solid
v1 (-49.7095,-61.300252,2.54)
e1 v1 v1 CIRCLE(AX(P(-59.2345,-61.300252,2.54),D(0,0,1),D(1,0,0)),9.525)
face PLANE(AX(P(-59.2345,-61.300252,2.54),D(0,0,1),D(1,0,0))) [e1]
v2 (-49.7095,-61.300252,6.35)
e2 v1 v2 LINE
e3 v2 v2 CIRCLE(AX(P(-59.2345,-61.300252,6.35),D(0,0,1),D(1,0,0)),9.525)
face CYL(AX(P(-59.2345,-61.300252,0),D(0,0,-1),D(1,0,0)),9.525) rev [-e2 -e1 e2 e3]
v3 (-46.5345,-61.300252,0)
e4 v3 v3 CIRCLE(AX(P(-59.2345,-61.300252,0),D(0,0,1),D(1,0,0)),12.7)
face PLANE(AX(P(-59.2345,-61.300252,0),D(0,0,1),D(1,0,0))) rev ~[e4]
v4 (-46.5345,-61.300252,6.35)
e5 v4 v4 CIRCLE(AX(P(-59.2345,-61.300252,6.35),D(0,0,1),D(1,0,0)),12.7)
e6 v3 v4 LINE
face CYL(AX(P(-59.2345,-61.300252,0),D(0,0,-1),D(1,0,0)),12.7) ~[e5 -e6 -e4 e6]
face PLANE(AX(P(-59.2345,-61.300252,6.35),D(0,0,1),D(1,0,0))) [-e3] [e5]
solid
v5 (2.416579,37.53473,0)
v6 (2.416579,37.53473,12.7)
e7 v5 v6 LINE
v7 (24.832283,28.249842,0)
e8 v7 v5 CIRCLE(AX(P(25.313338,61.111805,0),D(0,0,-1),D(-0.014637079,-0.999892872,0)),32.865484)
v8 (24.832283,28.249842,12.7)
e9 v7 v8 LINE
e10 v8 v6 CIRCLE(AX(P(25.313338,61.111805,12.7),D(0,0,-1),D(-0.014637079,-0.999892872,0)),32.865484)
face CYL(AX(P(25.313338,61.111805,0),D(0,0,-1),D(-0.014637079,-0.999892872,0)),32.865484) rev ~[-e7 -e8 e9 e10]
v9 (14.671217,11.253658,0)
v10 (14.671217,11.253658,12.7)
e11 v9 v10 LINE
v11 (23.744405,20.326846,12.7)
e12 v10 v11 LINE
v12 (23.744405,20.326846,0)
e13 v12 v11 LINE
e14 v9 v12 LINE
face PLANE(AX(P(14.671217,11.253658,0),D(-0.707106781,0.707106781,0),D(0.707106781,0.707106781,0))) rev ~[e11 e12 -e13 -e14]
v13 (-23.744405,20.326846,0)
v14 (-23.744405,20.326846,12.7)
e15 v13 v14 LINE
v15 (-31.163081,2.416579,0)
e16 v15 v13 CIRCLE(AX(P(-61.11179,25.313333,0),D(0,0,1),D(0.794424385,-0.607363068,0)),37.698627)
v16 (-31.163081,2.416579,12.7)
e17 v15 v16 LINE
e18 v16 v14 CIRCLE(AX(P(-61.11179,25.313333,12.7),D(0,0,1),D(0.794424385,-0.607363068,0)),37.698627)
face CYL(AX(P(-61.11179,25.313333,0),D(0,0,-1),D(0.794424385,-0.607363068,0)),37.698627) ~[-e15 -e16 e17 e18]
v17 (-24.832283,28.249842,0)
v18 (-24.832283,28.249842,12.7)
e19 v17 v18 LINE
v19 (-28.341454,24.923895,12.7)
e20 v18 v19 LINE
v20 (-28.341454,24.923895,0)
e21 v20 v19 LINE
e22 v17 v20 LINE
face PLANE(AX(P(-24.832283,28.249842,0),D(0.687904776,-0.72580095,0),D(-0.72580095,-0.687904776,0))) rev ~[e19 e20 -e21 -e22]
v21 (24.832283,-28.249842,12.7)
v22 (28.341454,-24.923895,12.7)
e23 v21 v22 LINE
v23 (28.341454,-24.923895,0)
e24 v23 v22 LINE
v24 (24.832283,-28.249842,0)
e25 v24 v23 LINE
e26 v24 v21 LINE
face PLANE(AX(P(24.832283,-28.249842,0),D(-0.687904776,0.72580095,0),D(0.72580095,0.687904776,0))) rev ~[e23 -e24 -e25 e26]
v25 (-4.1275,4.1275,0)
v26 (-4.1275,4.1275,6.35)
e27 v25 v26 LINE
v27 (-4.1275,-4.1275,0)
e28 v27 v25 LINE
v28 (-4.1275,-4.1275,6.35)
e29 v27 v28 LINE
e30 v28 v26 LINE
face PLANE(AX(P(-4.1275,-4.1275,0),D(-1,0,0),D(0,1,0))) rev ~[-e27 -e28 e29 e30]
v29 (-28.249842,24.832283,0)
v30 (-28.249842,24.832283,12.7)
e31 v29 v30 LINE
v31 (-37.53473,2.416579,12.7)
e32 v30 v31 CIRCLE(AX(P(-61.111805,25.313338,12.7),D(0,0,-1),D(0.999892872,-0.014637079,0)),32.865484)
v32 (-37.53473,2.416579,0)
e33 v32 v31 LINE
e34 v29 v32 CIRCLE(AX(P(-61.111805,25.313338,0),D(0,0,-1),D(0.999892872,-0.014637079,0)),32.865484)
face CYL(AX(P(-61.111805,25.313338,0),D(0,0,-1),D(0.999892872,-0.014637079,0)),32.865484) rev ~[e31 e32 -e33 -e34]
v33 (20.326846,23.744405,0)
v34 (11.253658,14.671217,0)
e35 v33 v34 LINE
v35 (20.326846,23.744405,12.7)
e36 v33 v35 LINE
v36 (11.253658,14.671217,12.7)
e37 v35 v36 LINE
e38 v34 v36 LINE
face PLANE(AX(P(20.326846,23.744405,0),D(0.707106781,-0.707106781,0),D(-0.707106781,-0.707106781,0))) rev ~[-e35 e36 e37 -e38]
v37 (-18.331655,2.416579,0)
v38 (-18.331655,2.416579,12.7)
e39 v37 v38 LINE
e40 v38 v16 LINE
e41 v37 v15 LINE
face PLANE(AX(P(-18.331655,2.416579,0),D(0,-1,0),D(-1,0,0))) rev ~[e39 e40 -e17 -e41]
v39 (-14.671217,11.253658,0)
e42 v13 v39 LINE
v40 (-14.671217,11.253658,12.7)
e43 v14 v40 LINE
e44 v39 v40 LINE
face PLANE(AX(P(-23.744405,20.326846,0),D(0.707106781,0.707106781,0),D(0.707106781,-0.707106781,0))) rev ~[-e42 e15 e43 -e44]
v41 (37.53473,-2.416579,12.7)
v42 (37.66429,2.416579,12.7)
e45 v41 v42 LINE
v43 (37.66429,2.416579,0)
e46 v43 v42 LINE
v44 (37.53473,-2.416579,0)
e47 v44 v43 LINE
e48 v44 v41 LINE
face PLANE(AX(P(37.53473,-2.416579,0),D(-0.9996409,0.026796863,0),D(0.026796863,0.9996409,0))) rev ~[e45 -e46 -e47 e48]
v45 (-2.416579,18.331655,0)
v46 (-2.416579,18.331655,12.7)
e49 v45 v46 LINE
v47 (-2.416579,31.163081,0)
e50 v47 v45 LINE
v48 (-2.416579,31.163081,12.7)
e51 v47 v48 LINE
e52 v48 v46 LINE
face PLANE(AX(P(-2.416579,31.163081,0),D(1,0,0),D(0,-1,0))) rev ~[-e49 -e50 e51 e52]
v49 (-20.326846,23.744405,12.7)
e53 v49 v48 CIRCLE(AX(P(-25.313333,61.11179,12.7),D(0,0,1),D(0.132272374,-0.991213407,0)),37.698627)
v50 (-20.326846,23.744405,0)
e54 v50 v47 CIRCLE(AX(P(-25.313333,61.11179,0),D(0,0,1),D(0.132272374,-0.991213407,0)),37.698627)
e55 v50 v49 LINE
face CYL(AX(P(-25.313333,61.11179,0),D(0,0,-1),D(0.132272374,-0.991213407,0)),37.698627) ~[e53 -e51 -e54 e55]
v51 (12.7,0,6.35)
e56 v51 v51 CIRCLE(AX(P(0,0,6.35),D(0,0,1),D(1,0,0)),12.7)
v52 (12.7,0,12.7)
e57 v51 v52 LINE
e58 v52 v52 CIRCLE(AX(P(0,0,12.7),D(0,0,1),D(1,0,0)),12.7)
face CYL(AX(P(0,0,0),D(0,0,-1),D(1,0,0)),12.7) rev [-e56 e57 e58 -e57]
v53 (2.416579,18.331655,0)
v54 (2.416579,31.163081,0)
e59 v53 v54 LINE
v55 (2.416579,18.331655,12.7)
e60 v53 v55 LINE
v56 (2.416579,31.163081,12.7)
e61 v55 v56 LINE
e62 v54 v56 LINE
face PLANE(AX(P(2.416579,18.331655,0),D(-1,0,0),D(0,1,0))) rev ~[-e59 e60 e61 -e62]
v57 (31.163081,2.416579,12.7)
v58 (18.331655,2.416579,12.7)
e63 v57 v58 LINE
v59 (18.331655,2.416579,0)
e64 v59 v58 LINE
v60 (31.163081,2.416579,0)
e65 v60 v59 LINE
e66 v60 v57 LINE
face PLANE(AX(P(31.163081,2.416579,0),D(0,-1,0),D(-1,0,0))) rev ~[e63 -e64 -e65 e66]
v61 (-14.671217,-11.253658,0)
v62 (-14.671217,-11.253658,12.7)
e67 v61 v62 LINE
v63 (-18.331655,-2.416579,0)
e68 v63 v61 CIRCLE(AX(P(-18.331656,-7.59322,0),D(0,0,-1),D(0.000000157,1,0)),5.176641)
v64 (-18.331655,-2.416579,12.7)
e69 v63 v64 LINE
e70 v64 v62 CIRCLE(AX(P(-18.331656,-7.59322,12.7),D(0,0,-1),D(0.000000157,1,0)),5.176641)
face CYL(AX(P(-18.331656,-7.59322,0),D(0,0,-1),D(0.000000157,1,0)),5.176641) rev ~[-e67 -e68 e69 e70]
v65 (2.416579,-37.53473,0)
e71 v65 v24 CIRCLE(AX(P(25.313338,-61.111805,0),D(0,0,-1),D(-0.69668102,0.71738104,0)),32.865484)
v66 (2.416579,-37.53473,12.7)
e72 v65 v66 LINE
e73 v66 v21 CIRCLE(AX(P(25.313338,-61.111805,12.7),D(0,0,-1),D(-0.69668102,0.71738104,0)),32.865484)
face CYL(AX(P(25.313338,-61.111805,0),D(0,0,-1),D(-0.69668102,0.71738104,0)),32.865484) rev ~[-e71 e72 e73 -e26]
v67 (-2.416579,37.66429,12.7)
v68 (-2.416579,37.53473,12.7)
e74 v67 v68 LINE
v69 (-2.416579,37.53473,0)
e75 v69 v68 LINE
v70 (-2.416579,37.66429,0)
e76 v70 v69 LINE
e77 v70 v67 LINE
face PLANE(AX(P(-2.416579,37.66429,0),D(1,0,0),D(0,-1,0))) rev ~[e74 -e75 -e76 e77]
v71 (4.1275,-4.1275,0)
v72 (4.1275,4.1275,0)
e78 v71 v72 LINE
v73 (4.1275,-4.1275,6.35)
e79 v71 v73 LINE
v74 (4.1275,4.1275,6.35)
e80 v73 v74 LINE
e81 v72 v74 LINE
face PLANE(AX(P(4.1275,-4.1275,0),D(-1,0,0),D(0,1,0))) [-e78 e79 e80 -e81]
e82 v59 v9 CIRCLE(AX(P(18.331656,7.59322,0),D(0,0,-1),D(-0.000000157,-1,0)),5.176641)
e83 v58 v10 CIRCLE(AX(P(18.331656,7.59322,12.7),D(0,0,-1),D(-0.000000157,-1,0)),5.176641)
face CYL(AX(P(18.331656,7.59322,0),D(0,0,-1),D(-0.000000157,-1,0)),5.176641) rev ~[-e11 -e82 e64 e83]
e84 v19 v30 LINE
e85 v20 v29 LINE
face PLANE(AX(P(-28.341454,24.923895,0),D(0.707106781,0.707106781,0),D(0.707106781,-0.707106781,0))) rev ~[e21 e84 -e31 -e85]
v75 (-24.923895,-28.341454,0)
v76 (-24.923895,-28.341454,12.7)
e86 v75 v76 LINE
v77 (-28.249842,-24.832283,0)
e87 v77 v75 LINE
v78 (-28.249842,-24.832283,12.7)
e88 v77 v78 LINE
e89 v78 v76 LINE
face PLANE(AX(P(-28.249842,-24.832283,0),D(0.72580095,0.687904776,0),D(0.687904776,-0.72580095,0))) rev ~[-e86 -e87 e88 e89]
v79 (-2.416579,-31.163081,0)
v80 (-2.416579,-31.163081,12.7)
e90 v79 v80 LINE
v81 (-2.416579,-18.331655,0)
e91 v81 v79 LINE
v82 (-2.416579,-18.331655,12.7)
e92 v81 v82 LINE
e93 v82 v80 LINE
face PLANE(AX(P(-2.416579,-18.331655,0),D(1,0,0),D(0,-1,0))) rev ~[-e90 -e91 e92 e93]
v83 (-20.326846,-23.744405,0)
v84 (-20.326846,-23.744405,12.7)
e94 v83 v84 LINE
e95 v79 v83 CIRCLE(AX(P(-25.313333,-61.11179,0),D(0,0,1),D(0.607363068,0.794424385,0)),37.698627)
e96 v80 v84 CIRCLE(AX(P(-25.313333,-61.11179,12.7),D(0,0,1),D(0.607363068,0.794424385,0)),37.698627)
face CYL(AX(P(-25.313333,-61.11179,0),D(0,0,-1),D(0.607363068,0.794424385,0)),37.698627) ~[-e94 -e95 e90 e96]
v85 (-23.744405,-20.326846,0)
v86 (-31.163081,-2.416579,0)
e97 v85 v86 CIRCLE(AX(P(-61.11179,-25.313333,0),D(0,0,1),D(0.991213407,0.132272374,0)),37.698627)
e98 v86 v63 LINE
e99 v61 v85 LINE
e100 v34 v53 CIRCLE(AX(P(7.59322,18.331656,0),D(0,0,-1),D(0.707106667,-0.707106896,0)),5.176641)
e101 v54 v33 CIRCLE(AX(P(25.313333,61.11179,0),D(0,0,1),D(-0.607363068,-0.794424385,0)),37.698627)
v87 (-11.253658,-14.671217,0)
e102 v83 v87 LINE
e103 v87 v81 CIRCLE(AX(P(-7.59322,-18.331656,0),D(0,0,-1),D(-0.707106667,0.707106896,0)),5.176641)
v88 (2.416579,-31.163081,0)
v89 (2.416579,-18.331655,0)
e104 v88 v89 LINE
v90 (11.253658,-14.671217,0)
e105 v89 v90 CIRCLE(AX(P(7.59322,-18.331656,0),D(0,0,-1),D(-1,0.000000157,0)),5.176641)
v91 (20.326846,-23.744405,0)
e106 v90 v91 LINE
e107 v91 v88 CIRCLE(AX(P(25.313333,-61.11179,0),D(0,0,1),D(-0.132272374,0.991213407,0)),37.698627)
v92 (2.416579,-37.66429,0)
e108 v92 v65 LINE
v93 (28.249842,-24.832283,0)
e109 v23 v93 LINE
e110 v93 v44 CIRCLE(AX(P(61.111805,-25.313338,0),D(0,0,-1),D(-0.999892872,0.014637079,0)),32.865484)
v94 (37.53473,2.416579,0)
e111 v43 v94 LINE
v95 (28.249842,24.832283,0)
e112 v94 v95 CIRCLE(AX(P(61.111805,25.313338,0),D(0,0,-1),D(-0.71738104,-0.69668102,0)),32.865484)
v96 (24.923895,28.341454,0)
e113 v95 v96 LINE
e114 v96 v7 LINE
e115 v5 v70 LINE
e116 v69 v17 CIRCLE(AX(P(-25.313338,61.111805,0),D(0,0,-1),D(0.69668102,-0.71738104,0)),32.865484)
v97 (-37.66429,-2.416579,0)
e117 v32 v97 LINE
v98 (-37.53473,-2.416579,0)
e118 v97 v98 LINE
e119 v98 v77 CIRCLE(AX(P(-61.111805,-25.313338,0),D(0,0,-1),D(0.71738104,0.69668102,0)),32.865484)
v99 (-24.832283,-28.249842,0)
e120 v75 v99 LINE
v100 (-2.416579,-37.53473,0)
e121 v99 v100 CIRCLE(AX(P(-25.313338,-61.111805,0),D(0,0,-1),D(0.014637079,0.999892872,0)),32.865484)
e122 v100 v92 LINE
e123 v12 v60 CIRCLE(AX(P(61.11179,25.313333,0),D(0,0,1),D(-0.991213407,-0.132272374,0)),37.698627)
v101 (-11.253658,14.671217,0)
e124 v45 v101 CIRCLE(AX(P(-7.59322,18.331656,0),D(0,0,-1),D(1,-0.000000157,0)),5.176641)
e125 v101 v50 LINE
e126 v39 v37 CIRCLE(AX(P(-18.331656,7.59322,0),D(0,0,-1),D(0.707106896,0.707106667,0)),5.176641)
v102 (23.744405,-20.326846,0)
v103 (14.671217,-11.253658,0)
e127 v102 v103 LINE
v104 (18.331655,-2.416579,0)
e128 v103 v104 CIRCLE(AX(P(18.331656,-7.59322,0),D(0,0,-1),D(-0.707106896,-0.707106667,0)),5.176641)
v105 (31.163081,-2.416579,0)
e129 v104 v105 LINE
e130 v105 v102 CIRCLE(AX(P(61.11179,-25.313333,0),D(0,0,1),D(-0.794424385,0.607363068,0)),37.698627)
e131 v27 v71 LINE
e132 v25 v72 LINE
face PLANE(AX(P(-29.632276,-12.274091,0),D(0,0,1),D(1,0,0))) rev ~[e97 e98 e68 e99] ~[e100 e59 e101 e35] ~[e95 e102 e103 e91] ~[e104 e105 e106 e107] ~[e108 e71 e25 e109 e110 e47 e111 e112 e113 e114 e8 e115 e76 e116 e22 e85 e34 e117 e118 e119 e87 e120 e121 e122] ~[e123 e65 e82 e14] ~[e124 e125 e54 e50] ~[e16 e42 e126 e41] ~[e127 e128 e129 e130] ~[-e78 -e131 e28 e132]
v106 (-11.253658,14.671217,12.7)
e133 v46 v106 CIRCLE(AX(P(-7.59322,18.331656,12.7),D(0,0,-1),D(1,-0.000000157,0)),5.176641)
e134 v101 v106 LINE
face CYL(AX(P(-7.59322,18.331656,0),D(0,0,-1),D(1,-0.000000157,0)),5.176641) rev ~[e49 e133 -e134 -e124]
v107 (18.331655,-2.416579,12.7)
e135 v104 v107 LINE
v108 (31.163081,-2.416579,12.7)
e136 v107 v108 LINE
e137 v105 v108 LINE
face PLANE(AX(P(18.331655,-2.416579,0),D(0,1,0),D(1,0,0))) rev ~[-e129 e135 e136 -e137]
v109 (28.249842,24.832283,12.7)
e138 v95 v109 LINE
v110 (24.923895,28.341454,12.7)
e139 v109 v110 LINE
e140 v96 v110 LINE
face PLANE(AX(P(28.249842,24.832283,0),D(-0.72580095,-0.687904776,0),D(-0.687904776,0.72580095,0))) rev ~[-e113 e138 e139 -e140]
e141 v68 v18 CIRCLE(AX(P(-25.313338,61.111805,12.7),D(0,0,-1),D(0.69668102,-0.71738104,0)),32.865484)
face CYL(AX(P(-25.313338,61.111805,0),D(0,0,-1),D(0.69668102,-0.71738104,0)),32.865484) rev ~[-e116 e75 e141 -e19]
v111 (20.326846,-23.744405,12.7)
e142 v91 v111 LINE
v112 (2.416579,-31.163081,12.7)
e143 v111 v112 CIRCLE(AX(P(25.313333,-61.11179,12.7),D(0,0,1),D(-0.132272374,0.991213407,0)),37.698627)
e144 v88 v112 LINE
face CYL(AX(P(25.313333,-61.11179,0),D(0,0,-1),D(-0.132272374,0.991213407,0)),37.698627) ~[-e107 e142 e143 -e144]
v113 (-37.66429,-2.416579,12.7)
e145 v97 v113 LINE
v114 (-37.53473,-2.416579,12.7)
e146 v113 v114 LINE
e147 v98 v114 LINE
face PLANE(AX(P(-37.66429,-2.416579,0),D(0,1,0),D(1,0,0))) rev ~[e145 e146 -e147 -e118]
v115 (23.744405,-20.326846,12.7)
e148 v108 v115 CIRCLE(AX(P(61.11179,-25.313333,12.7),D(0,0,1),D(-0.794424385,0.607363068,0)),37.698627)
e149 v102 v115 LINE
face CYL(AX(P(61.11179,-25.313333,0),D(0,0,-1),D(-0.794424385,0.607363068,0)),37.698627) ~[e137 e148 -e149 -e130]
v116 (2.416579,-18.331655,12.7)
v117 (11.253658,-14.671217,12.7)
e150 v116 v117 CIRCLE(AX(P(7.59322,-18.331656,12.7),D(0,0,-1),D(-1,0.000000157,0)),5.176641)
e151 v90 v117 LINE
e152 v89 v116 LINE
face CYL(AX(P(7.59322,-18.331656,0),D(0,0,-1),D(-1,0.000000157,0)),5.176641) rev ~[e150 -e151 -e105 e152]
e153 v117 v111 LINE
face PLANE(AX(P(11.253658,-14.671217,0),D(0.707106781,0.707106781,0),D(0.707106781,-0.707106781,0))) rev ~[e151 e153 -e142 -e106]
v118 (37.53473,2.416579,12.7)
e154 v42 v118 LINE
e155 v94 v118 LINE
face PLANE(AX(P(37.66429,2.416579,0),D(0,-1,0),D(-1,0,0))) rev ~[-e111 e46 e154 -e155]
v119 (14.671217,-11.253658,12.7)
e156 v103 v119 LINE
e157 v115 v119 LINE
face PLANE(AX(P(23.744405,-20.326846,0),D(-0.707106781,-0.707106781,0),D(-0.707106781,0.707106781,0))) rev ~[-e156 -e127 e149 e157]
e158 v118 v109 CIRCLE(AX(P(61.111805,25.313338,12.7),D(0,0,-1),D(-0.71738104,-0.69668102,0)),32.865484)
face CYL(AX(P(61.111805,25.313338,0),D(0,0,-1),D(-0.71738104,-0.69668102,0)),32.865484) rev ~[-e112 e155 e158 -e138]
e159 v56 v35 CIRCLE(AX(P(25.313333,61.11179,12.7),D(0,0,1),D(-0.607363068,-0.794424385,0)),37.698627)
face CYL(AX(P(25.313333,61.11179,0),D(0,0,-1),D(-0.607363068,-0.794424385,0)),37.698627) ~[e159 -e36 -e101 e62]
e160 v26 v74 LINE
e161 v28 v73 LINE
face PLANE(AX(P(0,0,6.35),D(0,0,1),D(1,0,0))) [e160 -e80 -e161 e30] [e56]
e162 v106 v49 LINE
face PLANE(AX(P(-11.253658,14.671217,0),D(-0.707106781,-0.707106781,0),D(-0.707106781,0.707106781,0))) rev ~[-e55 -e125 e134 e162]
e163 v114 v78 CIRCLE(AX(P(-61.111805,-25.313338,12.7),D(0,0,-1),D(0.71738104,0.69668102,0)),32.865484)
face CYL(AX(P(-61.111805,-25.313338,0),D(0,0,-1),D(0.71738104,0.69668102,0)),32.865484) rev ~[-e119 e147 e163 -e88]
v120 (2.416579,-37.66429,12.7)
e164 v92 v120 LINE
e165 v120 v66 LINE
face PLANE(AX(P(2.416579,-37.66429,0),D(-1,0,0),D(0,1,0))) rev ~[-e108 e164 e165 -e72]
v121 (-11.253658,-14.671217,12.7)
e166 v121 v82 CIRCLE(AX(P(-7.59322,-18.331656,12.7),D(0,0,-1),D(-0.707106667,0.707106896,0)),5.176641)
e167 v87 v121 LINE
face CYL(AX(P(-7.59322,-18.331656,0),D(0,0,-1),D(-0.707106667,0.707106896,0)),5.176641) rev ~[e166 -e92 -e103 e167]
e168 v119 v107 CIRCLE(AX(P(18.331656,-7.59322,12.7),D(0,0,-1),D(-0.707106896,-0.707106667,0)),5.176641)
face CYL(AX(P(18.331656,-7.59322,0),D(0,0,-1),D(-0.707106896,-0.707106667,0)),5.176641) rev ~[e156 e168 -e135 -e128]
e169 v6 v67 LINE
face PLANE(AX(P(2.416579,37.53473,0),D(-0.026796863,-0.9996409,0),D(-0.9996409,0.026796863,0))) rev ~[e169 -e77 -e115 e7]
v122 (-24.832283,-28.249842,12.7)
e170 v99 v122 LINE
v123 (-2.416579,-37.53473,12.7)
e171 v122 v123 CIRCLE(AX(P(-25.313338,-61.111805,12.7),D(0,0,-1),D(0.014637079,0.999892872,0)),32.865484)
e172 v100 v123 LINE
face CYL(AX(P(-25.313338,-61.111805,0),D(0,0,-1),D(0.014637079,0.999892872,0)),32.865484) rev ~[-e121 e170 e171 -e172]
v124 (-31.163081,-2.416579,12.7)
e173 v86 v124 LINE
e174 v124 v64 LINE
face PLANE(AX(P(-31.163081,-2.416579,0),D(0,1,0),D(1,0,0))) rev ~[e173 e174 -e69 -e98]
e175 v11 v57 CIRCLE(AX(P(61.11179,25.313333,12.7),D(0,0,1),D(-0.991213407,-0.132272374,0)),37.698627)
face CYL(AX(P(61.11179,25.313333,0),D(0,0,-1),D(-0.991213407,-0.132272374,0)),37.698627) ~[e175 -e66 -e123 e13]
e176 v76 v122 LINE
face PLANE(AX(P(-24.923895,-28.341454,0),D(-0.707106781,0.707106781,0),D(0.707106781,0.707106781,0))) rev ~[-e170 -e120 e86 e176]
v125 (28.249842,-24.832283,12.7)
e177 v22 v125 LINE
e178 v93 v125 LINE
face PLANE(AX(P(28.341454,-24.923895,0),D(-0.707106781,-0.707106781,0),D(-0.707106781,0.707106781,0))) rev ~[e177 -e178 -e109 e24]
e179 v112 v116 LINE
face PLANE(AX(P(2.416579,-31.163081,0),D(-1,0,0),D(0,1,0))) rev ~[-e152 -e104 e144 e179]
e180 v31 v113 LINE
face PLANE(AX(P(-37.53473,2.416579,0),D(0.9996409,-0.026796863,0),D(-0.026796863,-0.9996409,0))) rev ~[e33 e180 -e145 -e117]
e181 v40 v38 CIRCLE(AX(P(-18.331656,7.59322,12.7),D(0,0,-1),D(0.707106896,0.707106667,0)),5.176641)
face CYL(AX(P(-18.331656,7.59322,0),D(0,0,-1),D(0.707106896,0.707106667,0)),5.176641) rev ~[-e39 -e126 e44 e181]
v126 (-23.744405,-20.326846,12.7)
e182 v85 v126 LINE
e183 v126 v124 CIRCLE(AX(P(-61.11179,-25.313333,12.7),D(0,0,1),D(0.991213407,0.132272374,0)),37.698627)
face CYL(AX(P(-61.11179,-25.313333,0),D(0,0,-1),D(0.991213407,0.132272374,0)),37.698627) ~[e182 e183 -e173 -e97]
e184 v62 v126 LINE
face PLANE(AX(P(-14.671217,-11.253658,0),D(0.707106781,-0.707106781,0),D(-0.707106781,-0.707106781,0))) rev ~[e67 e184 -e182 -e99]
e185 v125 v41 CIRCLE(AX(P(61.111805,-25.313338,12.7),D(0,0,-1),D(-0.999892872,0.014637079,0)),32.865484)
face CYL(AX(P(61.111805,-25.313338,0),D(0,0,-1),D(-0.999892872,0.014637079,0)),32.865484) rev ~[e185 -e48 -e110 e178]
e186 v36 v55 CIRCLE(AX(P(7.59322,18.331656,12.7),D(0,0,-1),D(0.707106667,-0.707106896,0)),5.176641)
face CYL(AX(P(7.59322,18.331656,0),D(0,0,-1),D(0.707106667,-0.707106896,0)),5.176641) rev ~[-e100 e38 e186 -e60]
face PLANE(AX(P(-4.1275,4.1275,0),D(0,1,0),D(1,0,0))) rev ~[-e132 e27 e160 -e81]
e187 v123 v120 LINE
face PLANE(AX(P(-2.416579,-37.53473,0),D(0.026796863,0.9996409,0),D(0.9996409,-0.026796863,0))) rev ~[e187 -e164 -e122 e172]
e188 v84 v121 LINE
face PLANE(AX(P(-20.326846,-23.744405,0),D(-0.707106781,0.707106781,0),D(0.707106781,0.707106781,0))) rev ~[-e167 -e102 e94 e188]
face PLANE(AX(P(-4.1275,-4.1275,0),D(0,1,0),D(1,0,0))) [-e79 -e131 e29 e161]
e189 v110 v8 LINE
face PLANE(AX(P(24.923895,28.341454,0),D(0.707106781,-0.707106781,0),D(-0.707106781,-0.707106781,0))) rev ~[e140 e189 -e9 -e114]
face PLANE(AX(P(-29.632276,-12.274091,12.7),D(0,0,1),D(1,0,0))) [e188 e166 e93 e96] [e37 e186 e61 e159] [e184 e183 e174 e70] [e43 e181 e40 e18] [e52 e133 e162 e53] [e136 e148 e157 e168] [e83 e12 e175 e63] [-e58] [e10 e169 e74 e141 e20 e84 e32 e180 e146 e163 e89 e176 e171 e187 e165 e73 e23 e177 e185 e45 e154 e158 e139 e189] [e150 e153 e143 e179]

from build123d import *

# Parameters (mm, degrees)
F0_R     = 12.7
F0_W     = 8.255
F0_H     = 8.255
F1_DEPTH = 6.35
F2_DEPTH = 12.7
F3_R     = 12.7
F3_R_2   = 9.525
F4_DEPTH = 6.35
F5_DEPTH = 2.54


with BuildPart() as f1:
    # F0 (on Top) → F1 (new body)
    with BuildSketch(Plane.XY):
        Circle(F0_R)
        Rectangle(F0_W, F0_H, mode=Mode.SUBTRACT)
    extrude(amount=F1_DEPTH)

    # F0 (on Top) → F2 (join)
    with BuildSketch(Plane.XY):
        with BuildLine():
            ThreePointArc((-37.53473, -2.416579), (-30.748057, -12.736262), (-28.249842, -24.832283))
            Line((-28.249842, -24.832283), (-23.744405, -20.326846))
            ThreePointArc((-23.744405, -20.326846), (-26.2828, -10.886692), (-31.163081, -2.416579))
            Line((-31.163081, -2.416579), (-37.53473, -2.416579))
        make_face()
        with BuildLine():
            ThreePointArc((-24.832283, -28.249842), (-12.736262, -30.748057), (-2.416579, -37.53473))
            Line((-2.416579, -37.53473), (-2.416579, -31.163081))
            ThreePointArc((-2.416579, -31.163081), (-10.886692, -26.2828), (-20.326846, -23.744405))
            Line((-20.326846, -23.744405), (-24.832283, -28.249842))
        make_face()
        with BuildLine():
            ThreePointArc((2.416579, -37.53473), (12.736262, -30.748057), (24.832283, -28.249842))
            Line((24.832283, -28.249842), (20.326846, -23.744405))
            ThreePointArc((20.326846, -23.744405), (10.886692, -26.2828), (2.416579, -31.163081))
            Line((2.416579, -31.163081), (2.416579, -37.53473))
        make_face()
        with BuildLine():
            Line((37.53473, -2.416579), (31.163081, -2.416579))
            ThreePointArc((31.163081, -2.416579), (26.2828, -10.886692), (23.744405, -20.326846))
            Line((23.744405, -20.326846), (28.249842, -24.832283))
            ThreePointArc((28.249842, -24.832283), (30.748057, -12.736262), (37.53473, -2.416579))
        make_face()
        with BuildLine():
            Line((31.163081, 2.416579), (37.53473, 2.416579))
            ThreePointArc((37.53473, 2.416579), (30.748057, 12.736262), (28.249842, 24.832283))
            Line((28.249842, 24.832283), (23.744405, 20.326846))
            ThreePointArc((23.744405, 20.326846), (26.2828, 10.886692), (31.163081, 2.416579))
        make_face()
        with BuildLine():
            ThreePointArc((14.671217, -11.253658), (13.549063, -5.612205), (18.331655, -2.416579))
            Line((18.331655, -2.416579), (31.163081, -2.416579))
            Line((31.163081, -2.416579), (37.53473, -2.416579))
            Line((37.53473, -2.416579), (37.66429, 2.416579))
            Line((37.66429, 2.416579), (37.53473, 2.416579))
            Line((37.53473, 2.416579), (31.163081, 2.416579))
            Line((31.163081, 2.416579), (18.331655, 2.416579))
            ThreePointArc((18.331655, 2.416579), (13.549063, 5.612205), (14.671217, 11.253658))
            Line((14.671217, 11.253658), (23.744405, 20.326846))
            Line((23.744405, 20.326846), (28.249842, 24.832283))
            Line((28.249842, 24.832283), (24.923895, 28.341454))
            Line((24.923895, 28.341454), (24.832283, 28.249842))
            Line((24.832283, 28.249842), (20.326846, 23.744405))
            Line((20.326846, 23.744405), (11.253658, 14.671217))
            ThreePointArc((11.253658, 14.671217), (5.612205, 13.549063), (2.416579, 18.331655))
            Line((2.416579, 18.331655), (2.416579, 31.163081))
            Line((2.416579, 31.163081), (2.416579, 37.53473))
            Line((2.416579, 37.53473), (-2.416579, 37.66429))
            Line((-2.416579, 37.66429), (-2.416579, 37.53473))
            Line((-2.416579, 37.53473), (-2.416579, 31.163081))
            Line((-2.416579, 31.163081), (-2.416579, 18.331655))
            ThreePointArc((-2.416579, 18.331655), (-5.612205, 13.549063), (-11.253658, 14.671217))
            Line((-11.253658, 14.671217), (-20.326846, 23.744405))
            Line((-20.326846, 23.744405), (-24.832283, 28.249842))
            Line((-24.832283, 28.249842), (-28.341454, 24.923895))
            Line((-28.341454, 24.923895), (-28.249842, 24.832283))
            Line((-28.249842, 24.832283), (-23.744405, 20.326846))
            Line((-23.744405, 20.326846), (-14.671217, 11.253658))
            ThreePointArc((-14.671217, 11.253658), (-13.549063, 5.612205), (-18.331655, 2.416579))
            Line((-18.331655, 2.416579), (-31.163081, 2.416579))
            Line((-31.163081, 2.416579), (-37.53473, 2.416579))
            Line((-37.53473, 2.416579), (-37.66429, -2.416579))
            Line((-37.66429, -2.416579), (-37.53473, -2.416579))
            Line((-37.53473, -2.416579), (-31.163081, -2.416579))
            Line((-31.163081, -2.416579), (-18.331655, -2.416579))
            ThreePointArc((-18.331655, -2.416579), (-13.549063, -5.612205), (-14.671217, -11.253658))
            Line((-14.671217, -11.253658), (-23.744405, -20.326846))
            Line((-23.744405, -20.326846), (-28.249842, -24.832283))
            Line((-28.249842, -24.832283), (-24.923895, -28.341454))
            Line((-24.923895, -28.341454), (-24.832283, -28.249842))
            Line((-24.832283, -28.249842), (-20.326846, -23.744405))
            Line((-20.326846, -23.744405), (-11.253658, -14.671217))
            ThreePointArc((-11.253658, -14.671217), (-5.612205, -13.549063), (-2.416579, -18.331655))
            Line((-2.416579, -18.331655), (-2.416579, -31.163081))
            Line((-2.416579, -31.163081), (-2.416579, -37.53473))
            Line((-2.416579, -37.53473), (2.416579, -37.66429))
            Line((2.416579, -37.66429), (2.416579, -37.53473))
            Line((2.416579, -37.53473), (2.416579, -31.163081))
            Line((2.416579, -31.163081), (2.416579, -18.331655))
            ThreePointArc((2.416579, -18.331655), (5.612205, -13.549063), (11.253658, -14.671217))
            Line((11.253658, -14.671217), (20.326846, -23.744405))
            Line((20.326846, -23.744405), (24.832283, -28.249842))
            Line((24.832283, -28.249842), (28.341454, -24.923895))
            Line((28.341454, -24.923895), (28.249842, -24.832283))
            Line((28.249842, -24.832283), (23.744405, -20.326846))
            Line((23.744405, -20.326846), (14.671217, -11.253658))
        make_face()
        Circle(F0_R, mode=Mode.SUBTRACT)
        with BuildLine():
            Line((-23.744405, 20.326846), (-28.249842, 24.832283))
            ThreePointArc((-28.249842, 24.832283), (-30.748057, 12.736262), (-37.53473, 2.416579))
            Line((-37.53473, 2.416579), (-31.163081, 2.416579))
            ThreePointArc((-31.163081, 2.416579), (-26.2828, 10.886692), (-23.744405, 20.326846))
        make_face()
        with BuildLine():
            Line((-2.416579, 31.163081), (-2.416579, 37.53473))
            ThreePointArc((-2.416579, 37.53473), (-12.736262, 30.748057), (-24.832283, 28.249842))
            Line((-24.832283, 28.249842), (-20.326846, 23.744405))
            ThreePointArc((-20.326846, 23.744405), (-10.886692, 26.2828), (-2.416579, 31.163081))
        make_face()
        with BuildLine():
            Line((20.326846, 23.744405), (24.832283, 28.249842))
            ThreePointArc((24.832283, 28.249842), (12.736262, 30.748057), (2.416579, 37.53473))
            Line((2.416579, 37.53473), (2.416579, 31.163081))
            ThreePointArc((2.416579, 31.163081), (10.886692, 26.2828), (20.326846, 23.744405))
        make_face()
    extrude(amount=F2_DEPTH)


with BuildPart() as f4:
    # F3 (on Top) → F4 (new body)
    with BuildSketch(Plane.XY):
        with Locations((-59.2345, -61.300252)):
            Circle(F3_R)
        with Locations((-59.2345, -61.300252)):
            Circle(F3_R_2, mode=Mode.SUBTRACT)
    extrude(amount=F4_DEPTH)

    # F3 (on Top) → F5 (join)
    with BuildSketch(Plane.XY):
        with Locations((-59.2345, -61.300252)):
            Circle(F3_R_2)
    extrude(amount=F5_DEPTH)


solid = Compound([f1.part, f4.part])
